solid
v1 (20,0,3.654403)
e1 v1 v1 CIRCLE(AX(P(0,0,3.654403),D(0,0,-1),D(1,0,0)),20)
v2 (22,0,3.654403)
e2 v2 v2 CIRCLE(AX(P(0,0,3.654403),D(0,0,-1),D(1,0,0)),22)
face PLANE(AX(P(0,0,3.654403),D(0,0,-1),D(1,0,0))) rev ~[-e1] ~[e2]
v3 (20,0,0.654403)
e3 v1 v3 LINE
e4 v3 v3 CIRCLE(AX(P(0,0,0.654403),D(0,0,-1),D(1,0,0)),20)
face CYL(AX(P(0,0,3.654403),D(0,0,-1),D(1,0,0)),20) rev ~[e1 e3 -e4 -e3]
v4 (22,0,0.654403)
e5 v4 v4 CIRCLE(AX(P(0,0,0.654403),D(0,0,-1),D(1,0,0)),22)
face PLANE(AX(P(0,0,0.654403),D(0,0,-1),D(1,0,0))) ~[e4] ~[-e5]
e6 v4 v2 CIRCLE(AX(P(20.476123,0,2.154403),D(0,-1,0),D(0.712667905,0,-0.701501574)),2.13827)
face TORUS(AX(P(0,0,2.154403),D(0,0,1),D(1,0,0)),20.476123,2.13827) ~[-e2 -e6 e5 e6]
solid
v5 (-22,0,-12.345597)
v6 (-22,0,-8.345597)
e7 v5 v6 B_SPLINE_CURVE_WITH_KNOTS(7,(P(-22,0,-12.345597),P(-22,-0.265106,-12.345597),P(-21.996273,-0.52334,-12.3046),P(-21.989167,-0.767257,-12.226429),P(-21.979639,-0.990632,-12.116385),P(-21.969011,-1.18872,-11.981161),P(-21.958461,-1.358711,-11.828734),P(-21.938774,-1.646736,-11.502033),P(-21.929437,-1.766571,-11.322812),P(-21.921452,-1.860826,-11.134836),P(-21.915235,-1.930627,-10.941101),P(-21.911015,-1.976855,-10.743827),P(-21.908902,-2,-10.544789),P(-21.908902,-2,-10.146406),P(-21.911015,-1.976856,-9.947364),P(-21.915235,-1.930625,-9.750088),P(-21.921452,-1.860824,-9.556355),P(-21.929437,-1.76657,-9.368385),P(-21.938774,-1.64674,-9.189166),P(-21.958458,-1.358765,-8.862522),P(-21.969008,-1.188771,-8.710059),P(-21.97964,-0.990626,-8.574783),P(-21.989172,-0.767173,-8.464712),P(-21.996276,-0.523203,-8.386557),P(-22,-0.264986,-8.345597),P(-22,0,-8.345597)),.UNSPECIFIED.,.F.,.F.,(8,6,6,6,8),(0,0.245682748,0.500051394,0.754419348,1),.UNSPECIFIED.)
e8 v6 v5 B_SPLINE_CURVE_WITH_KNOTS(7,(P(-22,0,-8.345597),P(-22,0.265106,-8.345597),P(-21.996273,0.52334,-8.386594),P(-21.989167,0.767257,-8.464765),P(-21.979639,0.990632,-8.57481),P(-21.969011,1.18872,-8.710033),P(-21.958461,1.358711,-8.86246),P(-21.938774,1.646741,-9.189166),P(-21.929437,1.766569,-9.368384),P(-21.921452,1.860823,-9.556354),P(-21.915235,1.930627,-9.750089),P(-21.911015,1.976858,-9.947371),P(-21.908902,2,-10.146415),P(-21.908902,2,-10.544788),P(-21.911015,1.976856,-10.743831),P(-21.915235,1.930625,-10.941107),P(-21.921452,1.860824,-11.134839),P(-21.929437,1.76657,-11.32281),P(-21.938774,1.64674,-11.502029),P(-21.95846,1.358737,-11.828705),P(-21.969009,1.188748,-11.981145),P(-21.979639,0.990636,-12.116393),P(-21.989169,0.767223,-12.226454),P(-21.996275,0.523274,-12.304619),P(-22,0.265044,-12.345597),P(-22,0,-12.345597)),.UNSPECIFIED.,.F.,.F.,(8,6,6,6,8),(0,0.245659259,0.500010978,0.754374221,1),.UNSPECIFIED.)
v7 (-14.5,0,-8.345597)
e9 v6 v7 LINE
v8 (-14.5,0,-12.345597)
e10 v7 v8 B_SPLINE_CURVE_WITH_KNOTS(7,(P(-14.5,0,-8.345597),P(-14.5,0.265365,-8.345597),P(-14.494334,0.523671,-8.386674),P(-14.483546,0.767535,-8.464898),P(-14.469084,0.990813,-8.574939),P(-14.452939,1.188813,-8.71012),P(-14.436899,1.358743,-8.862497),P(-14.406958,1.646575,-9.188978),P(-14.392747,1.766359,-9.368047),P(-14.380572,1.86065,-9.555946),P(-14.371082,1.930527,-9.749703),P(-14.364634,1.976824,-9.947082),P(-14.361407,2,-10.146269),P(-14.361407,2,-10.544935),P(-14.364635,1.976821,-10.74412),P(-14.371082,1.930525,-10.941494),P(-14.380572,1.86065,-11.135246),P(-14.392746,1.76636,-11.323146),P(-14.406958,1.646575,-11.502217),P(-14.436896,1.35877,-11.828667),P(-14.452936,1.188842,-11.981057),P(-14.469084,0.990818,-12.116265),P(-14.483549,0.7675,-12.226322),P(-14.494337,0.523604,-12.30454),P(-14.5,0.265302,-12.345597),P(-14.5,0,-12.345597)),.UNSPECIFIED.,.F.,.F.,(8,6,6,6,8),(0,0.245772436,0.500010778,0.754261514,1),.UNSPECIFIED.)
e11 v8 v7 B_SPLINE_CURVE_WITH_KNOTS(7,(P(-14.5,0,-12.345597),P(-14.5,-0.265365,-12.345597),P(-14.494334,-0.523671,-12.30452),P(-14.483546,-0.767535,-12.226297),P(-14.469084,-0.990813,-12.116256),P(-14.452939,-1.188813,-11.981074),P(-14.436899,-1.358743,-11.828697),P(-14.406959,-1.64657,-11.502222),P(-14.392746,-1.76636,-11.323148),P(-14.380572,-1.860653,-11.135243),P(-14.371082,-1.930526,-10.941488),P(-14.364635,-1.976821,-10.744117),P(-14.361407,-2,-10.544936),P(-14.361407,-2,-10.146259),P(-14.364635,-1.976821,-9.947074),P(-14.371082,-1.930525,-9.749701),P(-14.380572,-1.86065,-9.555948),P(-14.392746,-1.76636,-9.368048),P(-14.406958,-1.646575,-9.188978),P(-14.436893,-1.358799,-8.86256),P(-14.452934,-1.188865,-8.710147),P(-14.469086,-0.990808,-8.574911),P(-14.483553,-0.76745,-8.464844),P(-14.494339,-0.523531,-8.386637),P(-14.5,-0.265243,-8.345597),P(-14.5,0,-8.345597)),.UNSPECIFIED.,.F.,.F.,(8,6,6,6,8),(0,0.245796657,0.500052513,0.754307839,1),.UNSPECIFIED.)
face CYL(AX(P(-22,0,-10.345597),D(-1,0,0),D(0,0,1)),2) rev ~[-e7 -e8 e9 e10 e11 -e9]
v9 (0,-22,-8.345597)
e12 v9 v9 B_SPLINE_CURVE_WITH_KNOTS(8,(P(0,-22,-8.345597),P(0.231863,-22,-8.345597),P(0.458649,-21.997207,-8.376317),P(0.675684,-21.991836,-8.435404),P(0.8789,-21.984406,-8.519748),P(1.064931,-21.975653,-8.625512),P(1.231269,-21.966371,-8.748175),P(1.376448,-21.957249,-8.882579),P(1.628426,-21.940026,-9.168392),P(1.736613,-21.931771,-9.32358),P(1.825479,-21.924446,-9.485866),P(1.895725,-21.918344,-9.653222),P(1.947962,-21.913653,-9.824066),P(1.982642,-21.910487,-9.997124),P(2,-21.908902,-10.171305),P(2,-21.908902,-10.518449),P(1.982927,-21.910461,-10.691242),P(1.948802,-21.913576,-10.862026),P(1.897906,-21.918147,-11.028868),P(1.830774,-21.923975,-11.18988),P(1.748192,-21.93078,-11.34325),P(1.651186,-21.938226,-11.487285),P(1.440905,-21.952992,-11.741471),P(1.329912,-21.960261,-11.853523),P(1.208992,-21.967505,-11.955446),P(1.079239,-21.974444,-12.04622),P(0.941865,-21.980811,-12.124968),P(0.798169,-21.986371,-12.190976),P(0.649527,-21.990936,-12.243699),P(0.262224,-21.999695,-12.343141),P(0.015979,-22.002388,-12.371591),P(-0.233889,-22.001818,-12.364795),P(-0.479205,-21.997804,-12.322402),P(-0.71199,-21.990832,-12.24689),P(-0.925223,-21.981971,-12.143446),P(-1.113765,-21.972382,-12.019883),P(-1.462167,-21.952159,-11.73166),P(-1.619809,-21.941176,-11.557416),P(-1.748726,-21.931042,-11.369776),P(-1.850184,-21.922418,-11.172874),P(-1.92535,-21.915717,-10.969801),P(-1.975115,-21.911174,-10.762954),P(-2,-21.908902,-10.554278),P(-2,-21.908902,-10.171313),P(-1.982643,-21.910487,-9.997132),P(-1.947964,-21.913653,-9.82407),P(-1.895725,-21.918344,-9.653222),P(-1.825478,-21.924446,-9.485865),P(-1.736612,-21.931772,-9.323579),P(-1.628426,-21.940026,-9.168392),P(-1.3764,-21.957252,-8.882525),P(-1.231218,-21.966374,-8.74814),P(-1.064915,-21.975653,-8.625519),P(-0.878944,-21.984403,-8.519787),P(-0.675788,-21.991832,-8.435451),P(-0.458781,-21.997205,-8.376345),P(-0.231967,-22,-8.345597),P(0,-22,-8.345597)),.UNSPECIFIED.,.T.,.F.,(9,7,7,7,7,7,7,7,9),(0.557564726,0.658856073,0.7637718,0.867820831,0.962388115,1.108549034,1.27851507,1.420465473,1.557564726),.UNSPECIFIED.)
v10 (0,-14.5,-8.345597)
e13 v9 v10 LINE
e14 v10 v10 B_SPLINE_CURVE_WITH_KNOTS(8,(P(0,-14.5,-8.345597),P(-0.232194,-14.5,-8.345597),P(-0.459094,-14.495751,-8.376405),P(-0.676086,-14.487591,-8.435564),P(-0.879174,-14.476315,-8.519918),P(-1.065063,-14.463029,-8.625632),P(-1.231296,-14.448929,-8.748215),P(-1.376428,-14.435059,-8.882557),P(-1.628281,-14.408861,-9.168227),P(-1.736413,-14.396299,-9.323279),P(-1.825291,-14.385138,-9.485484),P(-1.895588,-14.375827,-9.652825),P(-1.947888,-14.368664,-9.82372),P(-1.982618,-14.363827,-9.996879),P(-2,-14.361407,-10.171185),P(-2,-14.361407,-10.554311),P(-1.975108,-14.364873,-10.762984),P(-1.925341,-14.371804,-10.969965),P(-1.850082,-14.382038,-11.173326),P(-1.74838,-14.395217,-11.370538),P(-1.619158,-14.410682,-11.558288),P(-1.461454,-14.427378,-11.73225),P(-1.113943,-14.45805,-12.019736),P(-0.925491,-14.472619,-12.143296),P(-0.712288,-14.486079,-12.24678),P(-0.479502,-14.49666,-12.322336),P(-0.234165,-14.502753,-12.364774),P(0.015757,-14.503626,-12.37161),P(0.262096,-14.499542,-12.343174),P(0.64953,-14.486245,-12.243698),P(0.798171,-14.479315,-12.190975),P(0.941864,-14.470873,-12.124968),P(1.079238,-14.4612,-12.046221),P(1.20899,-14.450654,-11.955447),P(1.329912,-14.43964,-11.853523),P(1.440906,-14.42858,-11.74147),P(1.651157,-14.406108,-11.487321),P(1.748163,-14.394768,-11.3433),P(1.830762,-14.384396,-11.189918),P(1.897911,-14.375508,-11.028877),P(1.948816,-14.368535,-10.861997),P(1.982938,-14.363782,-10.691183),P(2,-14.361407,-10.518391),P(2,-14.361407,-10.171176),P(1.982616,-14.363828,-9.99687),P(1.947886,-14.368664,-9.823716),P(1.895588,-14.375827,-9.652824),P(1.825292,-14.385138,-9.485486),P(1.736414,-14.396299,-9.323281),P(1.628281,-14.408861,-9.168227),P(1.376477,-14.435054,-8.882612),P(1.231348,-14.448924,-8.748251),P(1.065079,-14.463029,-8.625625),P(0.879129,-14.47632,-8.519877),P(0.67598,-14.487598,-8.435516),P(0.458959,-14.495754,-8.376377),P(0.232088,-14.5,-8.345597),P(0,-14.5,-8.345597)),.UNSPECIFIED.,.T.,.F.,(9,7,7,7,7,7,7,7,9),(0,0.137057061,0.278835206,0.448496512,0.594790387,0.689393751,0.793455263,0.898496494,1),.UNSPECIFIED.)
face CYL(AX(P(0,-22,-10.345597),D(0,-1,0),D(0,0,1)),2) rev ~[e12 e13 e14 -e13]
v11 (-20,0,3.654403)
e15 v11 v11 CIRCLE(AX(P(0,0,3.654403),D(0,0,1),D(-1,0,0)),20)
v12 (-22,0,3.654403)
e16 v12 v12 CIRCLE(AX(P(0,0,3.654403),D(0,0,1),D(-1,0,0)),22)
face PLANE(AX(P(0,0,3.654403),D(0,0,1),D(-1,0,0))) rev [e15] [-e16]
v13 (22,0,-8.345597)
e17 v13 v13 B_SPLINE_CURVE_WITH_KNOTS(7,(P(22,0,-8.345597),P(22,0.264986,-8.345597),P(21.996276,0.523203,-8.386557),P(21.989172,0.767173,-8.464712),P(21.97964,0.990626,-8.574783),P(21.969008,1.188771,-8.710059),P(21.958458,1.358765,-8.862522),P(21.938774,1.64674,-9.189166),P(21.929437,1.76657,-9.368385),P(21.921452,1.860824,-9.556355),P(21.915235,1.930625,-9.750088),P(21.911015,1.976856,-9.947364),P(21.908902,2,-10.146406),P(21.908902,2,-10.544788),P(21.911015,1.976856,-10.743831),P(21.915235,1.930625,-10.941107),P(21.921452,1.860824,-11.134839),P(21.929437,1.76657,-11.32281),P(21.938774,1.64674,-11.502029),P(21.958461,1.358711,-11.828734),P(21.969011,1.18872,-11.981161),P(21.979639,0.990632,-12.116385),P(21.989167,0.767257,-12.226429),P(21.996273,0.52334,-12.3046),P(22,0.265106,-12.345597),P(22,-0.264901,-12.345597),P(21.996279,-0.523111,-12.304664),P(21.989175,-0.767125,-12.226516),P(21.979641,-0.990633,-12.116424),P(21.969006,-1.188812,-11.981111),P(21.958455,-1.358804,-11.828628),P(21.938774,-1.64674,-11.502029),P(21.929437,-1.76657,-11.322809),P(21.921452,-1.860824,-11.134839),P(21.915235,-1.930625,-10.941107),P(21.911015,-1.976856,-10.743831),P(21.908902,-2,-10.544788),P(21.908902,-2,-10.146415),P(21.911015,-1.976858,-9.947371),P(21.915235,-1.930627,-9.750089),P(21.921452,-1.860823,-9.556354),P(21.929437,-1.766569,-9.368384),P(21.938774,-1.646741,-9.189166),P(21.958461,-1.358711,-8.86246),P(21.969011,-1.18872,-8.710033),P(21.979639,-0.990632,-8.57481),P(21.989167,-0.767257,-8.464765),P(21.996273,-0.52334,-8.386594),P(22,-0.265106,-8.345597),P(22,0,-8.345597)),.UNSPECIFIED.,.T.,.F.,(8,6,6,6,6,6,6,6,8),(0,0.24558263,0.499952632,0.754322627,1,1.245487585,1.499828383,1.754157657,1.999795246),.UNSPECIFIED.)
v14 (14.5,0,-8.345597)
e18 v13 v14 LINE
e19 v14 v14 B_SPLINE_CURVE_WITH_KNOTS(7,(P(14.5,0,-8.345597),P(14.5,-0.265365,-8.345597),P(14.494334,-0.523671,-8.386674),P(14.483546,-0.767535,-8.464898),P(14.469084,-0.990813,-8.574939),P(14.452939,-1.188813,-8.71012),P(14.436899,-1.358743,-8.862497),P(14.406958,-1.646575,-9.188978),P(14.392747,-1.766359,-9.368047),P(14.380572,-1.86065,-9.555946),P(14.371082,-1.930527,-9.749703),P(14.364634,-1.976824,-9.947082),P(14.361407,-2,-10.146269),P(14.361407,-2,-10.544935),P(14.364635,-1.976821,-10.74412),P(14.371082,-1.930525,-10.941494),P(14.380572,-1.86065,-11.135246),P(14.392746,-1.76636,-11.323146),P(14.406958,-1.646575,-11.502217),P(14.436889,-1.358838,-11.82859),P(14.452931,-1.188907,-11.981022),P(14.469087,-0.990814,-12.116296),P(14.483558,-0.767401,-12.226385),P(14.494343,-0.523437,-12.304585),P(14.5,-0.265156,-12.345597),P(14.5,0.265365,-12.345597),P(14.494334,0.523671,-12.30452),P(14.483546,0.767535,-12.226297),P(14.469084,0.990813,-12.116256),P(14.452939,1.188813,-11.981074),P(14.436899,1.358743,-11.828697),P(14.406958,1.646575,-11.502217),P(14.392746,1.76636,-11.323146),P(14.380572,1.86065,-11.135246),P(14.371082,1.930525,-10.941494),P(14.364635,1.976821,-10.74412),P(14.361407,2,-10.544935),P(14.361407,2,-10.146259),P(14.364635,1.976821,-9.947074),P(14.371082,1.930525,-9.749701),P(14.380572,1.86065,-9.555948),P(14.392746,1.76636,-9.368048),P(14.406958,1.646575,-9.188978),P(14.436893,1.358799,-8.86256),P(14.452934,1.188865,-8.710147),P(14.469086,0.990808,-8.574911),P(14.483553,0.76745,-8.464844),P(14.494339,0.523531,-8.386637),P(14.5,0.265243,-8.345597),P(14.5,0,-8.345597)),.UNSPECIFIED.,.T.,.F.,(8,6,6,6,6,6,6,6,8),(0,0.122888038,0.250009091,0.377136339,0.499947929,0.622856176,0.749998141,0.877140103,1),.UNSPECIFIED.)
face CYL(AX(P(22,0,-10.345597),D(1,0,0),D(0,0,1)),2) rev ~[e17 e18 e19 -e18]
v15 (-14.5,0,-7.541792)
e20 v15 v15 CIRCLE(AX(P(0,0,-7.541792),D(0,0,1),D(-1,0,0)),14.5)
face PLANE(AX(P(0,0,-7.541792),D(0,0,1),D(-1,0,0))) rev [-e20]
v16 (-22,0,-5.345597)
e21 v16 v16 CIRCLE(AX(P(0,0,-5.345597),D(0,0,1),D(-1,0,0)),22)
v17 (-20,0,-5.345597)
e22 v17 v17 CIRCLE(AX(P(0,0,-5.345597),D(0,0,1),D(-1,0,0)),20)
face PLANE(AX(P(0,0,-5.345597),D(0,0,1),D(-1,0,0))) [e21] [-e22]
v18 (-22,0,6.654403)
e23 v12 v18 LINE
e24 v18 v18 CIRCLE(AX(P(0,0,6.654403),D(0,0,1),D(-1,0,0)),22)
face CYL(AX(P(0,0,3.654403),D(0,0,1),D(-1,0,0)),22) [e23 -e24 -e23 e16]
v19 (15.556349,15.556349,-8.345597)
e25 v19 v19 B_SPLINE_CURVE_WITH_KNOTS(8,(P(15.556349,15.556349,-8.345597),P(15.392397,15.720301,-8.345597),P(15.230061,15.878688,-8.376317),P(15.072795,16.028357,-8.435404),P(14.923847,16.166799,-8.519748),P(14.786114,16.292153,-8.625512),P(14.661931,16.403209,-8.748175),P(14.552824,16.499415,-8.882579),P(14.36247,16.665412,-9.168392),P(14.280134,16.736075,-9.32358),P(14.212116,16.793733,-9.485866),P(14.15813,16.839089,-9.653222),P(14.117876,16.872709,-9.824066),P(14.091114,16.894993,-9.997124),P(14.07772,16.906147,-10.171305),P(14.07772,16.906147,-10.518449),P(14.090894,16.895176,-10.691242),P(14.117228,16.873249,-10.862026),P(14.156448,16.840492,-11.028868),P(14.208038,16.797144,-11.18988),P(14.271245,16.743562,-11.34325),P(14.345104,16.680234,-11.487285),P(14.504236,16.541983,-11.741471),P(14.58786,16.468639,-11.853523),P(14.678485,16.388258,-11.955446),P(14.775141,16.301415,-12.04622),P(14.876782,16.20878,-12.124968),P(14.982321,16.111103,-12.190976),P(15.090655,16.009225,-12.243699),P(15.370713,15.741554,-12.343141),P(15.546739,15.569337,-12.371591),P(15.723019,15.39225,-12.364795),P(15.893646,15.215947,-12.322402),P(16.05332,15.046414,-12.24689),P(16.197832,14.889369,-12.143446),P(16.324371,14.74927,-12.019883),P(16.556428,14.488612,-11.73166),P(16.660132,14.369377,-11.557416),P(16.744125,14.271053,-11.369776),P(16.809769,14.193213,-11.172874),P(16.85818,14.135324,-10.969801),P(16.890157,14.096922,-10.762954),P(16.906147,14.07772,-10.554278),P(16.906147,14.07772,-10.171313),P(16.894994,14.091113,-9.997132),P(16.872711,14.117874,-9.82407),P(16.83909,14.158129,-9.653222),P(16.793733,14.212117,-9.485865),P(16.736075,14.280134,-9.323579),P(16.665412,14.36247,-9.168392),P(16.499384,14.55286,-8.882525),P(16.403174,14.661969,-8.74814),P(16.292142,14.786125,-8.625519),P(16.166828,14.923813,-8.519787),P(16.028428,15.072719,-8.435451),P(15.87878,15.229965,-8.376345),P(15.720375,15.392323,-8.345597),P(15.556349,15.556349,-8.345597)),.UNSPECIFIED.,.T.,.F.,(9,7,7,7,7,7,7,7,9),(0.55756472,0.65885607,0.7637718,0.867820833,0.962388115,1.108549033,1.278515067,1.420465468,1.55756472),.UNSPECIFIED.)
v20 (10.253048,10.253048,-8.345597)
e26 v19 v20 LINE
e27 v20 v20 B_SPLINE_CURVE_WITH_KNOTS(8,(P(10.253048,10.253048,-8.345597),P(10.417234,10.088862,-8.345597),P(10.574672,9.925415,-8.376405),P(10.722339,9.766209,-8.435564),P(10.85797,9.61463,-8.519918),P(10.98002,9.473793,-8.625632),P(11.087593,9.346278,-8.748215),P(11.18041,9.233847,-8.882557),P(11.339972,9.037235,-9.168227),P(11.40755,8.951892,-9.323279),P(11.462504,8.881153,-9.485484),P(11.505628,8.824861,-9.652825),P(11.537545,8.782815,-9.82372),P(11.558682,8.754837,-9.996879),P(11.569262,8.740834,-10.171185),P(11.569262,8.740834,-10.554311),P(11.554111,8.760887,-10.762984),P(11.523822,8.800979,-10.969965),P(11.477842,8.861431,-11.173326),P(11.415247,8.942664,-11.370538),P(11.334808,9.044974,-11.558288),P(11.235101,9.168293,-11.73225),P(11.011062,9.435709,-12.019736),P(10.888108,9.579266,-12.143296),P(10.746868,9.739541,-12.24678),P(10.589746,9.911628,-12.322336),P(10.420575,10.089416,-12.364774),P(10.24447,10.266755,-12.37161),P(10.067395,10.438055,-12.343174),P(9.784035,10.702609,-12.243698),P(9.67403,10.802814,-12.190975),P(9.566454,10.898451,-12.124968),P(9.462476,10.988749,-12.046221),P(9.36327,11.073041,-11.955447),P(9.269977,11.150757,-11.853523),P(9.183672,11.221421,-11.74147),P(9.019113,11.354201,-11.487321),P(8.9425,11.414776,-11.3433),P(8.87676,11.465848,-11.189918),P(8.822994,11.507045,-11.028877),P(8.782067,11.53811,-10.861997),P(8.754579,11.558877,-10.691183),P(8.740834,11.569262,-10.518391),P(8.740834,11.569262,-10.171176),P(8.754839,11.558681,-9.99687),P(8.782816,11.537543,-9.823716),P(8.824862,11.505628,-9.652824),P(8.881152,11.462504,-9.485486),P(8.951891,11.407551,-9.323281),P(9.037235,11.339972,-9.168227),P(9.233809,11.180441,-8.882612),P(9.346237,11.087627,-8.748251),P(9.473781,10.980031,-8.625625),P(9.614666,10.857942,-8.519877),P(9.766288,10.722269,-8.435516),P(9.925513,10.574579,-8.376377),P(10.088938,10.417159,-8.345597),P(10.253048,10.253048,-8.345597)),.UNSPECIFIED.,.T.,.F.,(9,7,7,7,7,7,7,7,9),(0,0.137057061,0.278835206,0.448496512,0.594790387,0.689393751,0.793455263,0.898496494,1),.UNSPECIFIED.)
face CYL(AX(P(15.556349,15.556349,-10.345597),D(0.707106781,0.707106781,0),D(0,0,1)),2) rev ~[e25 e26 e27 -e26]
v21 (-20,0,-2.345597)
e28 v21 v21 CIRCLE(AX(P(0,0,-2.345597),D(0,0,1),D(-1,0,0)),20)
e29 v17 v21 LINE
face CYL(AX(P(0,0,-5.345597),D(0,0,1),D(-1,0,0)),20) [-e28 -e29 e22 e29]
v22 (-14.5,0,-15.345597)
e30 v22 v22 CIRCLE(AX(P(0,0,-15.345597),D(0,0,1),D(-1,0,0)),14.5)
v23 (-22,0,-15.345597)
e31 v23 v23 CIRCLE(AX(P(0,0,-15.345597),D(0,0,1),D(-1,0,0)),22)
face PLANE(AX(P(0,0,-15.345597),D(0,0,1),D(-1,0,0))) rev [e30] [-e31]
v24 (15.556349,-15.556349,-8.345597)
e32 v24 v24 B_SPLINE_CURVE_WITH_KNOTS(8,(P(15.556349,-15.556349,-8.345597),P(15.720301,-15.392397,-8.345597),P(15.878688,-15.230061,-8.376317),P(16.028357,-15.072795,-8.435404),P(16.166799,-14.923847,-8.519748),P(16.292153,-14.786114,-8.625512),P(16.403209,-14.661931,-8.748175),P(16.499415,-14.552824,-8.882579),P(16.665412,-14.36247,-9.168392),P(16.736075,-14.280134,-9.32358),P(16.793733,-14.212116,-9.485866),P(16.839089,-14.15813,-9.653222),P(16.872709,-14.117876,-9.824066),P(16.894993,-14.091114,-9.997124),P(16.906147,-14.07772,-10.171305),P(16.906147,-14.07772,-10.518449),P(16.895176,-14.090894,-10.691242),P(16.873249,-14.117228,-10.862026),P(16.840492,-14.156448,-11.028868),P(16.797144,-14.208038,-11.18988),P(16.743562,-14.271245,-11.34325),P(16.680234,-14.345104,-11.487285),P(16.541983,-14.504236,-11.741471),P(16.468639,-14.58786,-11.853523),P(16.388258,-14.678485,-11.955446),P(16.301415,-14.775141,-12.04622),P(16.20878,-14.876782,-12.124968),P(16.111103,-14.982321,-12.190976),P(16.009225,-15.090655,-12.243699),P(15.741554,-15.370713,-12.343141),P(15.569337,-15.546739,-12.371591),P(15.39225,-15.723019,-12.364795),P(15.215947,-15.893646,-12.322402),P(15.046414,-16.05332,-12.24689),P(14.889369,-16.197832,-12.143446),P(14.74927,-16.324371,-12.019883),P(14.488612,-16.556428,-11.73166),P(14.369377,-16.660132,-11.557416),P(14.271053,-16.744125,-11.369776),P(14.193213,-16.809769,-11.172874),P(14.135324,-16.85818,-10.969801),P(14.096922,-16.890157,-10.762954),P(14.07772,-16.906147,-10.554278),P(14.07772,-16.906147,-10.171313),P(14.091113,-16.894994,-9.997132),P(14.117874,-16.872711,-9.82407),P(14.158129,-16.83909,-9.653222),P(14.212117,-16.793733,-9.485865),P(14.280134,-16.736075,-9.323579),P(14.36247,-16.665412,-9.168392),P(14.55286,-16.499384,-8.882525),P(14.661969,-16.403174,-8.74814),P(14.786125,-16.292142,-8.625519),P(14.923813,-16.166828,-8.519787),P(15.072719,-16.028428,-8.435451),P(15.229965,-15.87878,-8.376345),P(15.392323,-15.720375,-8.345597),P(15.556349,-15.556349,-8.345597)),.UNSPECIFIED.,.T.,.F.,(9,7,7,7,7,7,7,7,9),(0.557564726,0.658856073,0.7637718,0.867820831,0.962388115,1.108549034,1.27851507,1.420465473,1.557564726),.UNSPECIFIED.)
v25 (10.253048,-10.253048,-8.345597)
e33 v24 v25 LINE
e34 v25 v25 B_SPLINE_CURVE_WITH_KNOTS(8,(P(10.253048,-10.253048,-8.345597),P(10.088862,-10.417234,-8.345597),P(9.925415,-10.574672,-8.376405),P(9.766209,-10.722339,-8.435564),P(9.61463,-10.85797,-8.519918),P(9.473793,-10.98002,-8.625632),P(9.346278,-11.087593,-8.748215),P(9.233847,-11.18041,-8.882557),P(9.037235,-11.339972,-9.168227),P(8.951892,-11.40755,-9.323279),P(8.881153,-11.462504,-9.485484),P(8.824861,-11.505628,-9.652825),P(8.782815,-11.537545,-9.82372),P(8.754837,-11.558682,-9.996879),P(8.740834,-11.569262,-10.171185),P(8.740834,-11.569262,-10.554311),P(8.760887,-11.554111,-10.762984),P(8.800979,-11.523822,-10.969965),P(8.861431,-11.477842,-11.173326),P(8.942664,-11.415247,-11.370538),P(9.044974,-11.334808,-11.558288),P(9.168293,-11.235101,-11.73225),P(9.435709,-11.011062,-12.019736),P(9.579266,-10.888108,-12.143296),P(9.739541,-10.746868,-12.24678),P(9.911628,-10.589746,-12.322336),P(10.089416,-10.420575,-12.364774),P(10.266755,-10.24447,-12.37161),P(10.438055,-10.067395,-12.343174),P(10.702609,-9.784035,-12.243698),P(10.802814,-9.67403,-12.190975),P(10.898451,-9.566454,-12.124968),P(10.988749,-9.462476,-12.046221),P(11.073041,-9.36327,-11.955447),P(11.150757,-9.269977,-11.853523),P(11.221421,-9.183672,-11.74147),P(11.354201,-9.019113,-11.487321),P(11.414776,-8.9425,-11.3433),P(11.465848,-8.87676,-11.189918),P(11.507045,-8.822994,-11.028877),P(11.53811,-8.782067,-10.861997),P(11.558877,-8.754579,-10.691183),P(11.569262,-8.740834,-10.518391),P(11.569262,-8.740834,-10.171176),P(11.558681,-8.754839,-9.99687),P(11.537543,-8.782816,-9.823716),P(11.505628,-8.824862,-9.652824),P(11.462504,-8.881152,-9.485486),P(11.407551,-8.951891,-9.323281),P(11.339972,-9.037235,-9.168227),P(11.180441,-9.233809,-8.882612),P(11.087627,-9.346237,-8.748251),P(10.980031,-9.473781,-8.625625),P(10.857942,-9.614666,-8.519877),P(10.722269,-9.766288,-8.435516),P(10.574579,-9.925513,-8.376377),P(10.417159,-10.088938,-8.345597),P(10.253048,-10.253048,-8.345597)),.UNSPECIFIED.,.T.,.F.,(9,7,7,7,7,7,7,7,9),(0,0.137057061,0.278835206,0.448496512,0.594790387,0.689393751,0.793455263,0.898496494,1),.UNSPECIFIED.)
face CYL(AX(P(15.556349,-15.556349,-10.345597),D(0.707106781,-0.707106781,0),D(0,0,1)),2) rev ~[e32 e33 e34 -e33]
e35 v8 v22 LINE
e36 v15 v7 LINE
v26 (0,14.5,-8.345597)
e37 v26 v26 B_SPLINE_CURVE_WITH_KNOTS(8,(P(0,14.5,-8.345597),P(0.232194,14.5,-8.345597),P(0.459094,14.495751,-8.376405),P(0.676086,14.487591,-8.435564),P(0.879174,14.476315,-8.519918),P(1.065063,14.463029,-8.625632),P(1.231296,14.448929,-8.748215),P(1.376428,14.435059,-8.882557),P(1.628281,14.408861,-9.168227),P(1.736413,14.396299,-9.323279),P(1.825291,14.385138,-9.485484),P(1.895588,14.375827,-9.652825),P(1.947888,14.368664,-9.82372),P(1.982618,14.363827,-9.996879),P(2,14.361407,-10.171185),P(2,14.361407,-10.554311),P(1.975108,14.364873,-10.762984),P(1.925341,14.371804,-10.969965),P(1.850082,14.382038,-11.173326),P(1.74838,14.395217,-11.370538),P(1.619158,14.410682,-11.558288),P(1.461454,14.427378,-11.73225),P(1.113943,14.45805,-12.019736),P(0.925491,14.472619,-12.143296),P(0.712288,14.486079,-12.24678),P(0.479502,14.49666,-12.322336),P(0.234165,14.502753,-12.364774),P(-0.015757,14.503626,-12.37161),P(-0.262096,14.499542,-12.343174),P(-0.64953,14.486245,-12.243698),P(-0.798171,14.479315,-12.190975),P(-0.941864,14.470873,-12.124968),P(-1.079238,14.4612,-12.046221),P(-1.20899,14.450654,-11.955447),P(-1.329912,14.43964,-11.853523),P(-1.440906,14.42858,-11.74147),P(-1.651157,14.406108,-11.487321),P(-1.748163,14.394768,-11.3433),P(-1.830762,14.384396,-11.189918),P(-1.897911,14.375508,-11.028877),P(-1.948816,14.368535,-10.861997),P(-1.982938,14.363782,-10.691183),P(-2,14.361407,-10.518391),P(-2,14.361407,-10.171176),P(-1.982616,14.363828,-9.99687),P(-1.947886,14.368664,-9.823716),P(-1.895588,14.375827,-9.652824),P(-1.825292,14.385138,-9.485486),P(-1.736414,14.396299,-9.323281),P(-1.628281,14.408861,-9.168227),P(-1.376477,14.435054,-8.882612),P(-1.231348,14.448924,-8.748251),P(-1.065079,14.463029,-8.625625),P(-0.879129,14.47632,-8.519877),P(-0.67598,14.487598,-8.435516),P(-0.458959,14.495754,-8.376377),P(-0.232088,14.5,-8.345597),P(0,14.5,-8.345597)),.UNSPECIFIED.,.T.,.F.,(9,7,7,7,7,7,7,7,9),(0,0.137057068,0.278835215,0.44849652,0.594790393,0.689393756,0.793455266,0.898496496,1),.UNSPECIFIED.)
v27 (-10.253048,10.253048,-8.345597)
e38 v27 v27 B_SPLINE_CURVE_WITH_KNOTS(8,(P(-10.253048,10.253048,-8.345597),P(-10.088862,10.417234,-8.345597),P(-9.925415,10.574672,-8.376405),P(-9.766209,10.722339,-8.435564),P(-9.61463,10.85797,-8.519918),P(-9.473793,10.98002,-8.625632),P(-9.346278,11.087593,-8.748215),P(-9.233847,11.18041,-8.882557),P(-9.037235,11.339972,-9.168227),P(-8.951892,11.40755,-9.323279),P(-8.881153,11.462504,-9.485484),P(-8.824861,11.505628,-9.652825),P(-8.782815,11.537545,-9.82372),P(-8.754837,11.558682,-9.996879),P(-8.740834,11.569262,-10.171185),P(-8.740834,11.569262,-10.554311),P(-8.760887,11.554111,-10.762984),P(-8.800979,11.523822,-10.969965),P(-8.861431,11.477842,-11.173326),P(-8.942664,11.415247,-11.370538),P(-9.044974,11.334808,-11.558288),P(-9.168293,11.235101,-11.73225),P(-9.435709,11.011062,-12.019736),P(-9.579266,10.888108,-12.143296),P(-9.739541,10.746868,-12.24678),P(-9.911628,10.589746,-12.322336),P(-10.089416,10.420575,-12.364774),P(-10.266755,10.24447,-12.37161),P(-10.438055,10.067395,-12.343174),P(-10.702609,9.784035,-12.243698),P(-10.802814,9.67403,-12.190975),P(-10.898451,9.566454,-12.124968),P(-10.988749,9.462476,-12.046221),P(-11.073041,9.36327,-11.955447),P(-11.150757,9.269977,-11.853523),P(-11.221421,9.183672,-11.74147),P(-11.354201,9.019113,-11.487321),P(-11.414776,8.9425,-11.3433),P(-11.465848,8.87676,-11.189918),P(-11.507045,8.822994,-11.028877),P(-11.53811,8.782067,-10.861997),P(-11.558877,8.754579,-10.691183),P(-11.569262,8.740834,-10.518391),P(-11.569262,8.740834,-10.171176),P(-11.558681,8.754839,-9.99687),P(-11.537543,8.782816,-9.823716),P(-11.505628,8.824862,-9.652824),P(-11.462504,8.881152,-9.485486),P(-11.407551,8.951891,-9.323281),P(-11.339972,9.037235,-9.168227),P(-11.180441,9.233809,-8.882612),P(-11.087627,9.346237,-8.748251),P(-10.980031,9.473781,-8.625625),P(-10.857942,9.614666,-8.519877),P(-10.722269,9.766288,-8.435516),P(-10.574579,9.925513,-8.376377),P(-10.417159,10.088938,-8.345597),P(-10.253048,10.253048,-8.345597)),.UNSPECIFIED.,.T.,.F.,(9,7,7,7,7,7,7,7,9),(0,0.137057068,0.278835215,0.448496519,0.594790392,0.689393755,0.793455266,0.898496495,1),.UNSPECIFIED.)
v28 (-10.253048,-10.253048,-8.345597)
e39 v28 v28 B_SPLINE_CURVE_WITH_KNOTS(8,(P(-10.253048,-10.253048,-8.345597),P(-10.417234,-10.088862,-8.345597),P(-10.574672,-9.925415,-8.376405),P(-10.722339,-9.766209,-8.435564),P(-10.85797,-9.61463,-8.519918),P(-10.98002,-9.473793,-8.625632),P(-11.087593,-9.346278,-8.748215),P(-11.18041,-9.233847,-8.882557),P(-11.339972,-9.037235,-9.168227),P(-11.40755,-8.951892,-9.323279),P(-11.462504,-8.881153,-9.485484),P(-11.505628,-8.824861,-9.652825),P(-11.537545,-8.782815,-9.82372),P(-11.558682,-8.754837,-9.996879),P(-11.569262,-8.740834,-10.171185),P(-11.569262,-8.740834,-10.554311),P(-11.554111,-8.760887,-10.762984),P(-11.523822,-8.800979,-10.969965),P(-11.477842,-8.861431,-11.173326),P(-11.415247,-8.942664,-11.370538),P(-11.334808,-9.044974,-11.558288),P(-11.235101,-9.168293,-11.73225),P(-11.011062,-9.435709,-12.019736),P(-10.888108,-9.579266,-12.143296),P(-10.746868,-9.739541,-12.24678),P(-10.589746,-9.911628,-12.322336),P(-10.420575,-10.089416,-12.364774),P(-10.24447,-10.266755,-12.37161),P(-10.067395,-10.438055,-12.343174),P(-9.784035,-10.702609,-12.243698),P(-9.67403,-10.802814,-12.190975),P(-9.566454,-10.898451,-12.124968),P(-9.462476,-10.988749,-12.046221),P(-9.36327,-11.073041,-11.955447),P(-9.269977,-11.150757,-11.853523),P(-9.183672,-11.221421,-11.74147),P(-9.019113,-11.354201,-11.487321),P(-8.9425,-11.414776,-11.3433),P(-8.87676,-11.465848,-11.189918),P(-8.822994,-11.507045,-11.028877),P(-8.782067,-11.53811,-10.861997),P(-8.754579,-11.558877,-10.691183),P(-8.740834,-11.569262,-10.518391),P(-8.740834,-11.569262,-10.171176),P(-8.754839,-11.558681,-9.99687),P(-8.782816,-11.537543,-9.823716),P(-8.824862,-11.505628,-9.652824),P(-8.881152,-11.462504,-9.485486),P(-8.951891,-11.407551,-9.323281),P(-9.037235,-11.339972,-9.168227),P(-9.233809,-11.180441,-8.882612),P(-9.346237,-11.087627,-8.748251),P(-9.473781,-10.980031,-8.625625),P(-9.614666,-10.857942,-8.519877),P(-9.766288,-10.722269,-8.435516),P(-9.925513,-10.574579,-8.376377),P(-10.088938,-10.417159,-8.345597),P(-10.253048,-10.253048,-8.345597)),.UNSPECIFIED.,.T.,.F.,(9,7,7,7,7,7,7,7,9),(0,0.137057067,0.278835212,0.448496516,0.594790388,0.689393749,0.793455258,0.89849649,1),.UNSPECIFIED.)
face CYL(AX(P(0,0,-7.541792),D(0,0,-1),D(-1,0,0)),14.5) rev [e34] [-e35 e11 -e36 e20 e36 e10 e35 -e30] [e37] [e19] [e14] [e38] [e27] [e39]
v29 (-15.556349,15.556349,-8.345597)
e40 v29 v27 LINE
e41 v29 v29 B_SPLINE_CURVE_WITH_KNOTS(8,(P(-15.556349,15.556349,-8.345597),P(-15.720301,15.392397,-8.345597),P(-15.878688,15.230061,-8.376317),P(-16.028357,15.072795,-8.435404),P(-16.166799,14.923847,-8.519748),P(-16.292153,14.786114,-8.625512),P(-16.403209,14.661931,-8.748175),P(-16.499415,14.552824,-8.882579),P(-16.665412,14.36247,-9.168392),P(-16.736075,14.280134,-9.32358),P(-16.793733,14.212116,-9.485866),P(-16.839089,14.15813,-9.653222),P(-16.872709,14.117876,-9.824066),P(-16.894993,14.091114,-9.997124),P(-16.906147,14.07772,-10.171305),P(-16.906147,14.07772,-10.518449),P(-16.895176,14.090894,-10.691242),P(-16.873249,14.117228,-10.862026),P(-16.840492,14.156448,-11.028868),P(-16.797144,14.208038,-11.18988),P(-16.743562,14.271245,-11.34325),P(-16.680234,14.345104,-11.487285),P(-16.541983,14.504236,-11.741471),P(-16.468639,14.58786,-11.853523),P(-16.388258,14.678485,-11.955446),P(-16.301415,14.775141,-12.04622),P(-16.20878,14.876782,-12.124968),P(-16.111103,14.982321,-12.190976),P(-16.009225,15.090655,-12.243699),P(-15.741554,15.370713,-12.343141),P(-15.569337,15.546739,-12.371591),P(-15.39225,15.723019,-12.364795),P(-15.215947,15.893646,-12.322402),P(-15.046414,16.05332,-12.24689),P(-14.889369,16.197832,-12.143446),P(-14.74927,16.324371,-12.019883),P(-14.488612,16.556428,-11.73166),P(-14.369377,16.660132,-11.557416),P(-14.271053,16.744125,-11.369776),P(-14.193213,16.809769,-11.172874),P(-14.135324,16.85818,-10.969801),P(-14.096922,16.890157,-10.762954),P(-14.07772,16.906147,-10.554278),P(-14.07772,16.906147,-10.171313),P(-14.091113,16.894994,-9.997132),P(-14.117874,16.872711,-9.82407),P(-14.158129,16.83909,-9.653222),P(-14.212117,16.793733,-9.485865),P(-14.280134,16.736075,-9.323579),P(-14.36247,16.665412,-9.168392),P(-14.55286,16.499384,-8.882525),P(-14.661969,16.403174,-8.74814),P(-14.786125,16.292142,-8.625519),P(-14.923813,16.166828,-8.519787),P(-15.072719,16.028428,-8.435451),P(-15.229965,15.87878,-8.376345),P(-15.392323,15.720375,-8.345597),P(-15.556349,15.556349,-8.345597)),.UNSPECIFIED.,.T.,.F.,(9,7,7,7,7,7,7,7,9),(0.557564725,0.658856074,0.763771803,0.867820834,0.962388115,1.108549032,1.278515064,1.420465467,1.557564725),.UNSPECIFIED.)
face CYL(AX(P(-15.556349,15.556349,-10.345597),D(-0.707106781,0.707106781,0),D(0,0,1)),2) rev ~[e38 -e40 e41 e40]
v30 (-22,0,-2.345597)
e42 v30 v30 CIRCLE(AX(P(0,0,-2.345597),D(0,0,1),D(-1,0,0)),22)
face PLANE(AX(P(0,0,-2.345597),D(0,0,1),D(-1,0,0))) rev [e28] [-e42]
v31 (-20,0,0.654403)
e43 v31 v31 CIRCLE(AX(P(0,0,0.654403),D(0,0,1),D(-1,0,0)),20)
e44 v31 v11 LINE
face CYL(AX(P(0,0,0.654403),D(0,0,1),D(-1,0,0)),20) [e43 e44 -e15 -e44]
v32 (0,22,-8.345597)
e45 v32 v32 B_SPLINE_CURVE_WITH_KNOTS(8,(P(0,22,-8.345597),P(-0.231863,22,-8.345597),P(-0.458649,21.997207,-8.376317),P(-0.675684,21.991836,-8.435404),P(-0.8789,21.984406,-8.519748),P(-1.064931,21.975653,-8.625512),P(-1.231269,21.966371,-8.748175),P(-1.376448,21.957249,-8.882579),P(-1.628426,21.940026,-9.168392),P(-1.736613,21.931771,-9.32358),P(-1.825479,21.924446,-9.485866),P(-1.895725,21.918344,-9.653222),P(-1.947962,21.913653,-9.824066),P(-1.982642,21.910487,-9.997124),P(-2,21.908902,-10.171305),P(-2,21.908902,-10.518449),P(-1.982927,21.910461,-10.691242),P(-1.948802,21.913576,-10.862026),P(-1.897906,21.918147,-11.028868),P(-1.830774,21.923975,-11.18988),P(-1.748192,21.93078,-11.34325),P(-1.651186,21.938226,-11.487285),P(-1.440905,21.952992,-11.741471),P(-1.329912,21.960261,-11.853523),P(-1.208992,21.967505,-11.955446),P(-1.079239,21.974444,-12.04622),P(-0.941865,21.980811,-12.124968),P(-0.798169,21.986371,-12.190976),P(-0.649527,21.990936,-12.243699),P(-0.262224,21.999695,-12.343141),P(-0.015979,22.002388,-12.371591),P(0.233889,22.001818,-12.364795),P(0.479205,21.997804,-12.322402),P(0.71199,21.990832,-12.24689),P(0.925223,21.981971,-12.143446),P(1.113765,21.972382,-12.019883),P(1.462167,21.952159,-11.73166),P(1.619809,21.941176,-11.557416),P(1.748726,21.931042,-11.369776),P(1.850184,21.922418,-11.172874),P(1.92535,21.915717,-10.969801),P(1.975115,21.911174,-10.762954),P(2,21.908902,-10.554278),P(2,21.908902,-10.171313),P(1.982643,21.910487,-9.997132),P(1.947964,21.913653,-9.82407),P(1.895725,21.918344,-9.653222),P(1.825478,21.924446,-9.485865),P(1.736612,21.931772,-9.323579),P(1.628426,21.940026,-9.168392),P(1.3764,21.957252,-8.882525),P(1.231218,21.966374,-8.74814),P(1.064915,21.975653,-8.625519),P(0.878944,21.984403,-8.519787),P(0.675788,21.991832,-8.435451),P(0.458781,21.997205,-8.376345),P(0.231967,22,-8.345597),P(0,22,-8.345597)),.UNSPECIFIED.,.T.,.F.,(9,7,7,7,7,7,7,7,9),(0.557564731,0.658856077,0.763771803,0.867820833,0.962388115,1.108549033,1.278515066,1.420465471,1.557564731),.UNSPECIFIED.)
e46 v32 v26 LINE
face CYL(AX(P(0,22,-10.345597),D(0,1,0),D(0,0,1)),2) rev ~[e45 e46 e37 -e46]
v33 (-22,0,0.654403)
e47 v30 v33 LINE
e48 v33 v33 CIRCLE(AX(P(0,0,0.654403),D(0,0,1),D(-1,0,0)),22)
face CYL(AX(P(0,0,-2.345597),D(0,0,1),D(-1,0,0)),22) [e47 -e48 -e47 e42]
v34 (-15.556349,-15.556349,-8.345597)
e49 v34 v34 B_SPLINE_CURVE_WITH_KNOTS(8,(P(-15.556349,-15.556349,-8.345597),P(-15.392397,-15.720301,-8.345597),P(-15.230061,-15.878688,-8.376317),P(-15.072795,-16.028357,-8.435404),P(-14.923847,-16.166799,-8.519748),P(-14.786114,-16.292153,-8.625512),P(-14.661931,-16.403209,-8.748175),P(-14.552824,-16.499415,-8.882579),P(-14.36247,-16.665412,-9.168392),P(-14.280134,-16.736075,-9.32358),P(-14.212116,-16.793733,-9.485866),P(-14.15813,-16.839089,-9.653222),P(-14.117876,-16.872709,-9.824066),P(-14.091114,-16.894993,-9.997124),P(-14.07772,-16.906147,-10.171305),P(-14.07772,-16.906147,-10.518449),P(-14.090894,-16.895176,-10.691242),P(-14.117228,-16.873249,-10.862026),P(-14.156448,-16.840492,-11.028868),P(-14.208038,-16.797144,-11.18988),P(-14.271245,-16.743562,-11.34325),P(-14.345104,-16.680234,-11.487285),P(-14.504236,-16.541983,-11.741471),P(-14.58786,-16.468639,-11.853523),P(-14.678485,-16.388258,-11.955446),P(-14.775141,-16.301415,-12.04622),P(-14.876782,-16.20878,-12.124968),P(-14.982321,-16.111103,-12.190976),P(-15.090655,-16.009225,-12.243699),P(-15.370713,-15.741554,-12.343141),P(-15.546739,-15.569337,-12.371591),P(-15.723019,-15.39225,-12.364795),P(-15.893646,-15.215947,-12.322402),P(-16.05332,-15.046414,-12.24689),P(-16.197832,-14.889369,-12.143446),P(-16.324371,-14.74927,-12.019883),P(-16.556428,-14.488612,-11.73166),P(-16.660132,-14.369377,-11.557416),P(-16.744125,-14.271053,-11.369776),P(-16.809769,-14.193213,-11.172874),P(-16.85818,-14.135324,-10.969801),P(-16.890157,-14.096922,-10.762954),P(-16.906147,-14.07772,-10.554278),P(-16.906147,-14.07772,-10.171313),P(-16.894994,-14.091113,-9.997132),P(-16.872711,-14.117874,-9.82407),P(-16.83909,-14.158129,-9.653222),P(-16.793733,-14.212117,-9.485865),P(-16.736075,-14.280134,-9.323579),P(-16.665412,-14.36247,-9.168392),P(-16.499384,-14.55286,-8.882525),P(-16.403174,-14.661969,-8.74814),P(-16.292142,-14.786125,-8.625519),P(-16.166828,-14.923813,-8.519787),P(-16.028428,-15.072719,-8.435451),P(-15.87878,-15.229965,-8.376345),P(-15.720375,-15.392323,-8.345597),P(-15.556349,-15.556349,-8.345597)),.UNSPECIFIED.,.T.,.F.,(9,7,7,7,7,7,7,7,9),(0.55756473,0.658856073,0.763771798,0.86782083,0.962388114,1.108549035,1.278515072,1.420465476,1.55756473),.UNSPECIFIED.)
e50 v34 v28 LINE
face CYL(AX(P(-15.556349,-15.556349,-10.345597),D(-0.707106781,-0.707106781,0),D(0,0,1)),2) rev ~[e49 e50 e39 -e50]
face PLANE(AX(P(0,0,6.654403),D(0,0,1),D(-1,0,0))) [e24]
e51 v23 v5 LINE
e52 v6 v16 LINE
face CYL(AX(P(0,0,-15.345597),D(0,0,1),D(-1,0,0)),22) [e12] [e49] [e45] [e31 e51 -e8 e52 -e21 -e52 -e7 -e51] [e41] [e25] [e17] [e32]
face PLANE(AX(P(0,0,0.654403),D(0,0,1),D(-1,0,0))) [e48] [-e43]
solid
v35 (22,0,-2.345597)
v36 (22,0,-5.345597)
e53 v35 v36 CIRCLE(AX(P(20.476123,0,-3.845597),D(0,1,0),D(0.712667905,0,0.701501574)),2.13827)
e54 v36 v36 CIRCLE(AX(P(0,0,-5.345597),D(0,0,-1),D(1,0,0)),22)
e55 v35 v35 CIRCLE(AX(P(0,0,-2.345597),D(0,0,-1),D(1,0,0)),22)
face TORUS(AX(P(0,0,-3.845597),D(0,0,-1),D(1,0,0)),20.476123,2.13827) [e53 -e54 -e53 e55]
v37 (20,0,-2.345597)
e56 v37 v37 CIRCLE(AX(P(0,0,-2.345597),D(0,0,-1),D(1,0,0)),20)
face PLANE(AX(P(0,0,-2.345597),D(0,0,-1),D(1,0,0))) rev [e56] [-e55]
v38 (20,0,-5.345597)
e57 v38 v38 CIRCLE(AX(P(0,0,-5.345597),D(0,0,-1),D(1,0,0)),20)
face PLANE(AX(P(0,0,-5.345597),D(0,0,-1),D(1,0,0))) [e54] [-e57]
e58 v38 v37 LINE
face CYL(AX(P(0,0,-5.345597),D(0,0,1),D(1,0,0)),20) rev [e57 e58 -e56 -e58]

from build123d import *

# Parameters (mm, degrees)
ESBO_O3_R             = 2
CORTE_EXTRUS_O1_DEPTH = 8
PADR_OCIRCULAR1_COUNT = 8


with BuildPart() as part:
    # Esboço2 → Revolução1 (revolve)
    with BuildSketch(Plane(origin=(0, 0, 0), x_dir=(1, 0, 0), z_dir=(0, 1, 0))):
        Polygon((-14.5, 15.345597198), (-22, 15.345597198), (-22, 5.345597198), (-20, 5.345597198), (-20, 2.345597198), (-22, 2.345597198), (-22, -0.654402802), (-20, -0.654402802), (-20, -3.654402802), (-22, -3.654402802), (-22, -6.654402802), (0, -6.654402802), (0, -0.654402802), (0, 7.541792329), (-14.5, 7.541792329), align=None)
    revolve(axis=Axis((0, 0, -1026.34324457), (0, 0, 1)))

    # Esboço3 → Corte-extrusão1 (cut)
    with BuildSketch(Plane(origin=(0, 22, 0), x_dir=(1, 0, 0), z_dir=(0, 1, 0))):
        with Locations((0, 10.345597198)):
            Circle(ESBO_O3_R)
    corte_extrus_o1 = extrude(amount=-CORTE_EXTRUS_O1_DEPTH, mode=Mode.SUBTRACT)

    # PadrãoCircular1: Corte-extrusão1 ×8 about axis
    padr_ocircular1_axis = Axis((0, 0, -15.345597198), (0, 0, -1))
    for i in range(1, PADR_OCIRCULAR1_COUNT):
        add(corte_extrus_o1.rotate(padr_ocircular1_axis, i * 360 / PADR_OCIRCULAR1_COUNT), mode=Mode.SUBTRACT)


with BuildPart() as body_2:
    # Esboço6 → Revolução3 (revolve)
    with BuildSketch(Plane(origin=(0, 0, 0), x_dir=(1, 0, 0), z_dir=(0, 1, 0))):
        with BuildLine():
            Line((22, 5.345597198), (20, 5.345597198))
            Line((20, 5.345597198), (20, 2.345597198))
            Line((20, 2.345597198), (22, 2.345597198))
            ThreePointArc((22, 2.345597198), (22.614393694, 3.845597198), (22, 5.345597198))
        make_face()
        with BuildLine():
            Line((20, -3.654402802), (20, -0.654402802))
            Line((20, -0.654402802), (22, -0.654402802))
            ThreePointArc((22, -0.654402802), (22.614393694, -2.154402802), (22, -3.654402802))
            Line((22, -3.654402802), (20, -3.654402802))
        make_face()
    revolve(axis=Axis((0, 0, 0), (0, 0, -1)))


solid = Compound([part.part, body_2.part])
